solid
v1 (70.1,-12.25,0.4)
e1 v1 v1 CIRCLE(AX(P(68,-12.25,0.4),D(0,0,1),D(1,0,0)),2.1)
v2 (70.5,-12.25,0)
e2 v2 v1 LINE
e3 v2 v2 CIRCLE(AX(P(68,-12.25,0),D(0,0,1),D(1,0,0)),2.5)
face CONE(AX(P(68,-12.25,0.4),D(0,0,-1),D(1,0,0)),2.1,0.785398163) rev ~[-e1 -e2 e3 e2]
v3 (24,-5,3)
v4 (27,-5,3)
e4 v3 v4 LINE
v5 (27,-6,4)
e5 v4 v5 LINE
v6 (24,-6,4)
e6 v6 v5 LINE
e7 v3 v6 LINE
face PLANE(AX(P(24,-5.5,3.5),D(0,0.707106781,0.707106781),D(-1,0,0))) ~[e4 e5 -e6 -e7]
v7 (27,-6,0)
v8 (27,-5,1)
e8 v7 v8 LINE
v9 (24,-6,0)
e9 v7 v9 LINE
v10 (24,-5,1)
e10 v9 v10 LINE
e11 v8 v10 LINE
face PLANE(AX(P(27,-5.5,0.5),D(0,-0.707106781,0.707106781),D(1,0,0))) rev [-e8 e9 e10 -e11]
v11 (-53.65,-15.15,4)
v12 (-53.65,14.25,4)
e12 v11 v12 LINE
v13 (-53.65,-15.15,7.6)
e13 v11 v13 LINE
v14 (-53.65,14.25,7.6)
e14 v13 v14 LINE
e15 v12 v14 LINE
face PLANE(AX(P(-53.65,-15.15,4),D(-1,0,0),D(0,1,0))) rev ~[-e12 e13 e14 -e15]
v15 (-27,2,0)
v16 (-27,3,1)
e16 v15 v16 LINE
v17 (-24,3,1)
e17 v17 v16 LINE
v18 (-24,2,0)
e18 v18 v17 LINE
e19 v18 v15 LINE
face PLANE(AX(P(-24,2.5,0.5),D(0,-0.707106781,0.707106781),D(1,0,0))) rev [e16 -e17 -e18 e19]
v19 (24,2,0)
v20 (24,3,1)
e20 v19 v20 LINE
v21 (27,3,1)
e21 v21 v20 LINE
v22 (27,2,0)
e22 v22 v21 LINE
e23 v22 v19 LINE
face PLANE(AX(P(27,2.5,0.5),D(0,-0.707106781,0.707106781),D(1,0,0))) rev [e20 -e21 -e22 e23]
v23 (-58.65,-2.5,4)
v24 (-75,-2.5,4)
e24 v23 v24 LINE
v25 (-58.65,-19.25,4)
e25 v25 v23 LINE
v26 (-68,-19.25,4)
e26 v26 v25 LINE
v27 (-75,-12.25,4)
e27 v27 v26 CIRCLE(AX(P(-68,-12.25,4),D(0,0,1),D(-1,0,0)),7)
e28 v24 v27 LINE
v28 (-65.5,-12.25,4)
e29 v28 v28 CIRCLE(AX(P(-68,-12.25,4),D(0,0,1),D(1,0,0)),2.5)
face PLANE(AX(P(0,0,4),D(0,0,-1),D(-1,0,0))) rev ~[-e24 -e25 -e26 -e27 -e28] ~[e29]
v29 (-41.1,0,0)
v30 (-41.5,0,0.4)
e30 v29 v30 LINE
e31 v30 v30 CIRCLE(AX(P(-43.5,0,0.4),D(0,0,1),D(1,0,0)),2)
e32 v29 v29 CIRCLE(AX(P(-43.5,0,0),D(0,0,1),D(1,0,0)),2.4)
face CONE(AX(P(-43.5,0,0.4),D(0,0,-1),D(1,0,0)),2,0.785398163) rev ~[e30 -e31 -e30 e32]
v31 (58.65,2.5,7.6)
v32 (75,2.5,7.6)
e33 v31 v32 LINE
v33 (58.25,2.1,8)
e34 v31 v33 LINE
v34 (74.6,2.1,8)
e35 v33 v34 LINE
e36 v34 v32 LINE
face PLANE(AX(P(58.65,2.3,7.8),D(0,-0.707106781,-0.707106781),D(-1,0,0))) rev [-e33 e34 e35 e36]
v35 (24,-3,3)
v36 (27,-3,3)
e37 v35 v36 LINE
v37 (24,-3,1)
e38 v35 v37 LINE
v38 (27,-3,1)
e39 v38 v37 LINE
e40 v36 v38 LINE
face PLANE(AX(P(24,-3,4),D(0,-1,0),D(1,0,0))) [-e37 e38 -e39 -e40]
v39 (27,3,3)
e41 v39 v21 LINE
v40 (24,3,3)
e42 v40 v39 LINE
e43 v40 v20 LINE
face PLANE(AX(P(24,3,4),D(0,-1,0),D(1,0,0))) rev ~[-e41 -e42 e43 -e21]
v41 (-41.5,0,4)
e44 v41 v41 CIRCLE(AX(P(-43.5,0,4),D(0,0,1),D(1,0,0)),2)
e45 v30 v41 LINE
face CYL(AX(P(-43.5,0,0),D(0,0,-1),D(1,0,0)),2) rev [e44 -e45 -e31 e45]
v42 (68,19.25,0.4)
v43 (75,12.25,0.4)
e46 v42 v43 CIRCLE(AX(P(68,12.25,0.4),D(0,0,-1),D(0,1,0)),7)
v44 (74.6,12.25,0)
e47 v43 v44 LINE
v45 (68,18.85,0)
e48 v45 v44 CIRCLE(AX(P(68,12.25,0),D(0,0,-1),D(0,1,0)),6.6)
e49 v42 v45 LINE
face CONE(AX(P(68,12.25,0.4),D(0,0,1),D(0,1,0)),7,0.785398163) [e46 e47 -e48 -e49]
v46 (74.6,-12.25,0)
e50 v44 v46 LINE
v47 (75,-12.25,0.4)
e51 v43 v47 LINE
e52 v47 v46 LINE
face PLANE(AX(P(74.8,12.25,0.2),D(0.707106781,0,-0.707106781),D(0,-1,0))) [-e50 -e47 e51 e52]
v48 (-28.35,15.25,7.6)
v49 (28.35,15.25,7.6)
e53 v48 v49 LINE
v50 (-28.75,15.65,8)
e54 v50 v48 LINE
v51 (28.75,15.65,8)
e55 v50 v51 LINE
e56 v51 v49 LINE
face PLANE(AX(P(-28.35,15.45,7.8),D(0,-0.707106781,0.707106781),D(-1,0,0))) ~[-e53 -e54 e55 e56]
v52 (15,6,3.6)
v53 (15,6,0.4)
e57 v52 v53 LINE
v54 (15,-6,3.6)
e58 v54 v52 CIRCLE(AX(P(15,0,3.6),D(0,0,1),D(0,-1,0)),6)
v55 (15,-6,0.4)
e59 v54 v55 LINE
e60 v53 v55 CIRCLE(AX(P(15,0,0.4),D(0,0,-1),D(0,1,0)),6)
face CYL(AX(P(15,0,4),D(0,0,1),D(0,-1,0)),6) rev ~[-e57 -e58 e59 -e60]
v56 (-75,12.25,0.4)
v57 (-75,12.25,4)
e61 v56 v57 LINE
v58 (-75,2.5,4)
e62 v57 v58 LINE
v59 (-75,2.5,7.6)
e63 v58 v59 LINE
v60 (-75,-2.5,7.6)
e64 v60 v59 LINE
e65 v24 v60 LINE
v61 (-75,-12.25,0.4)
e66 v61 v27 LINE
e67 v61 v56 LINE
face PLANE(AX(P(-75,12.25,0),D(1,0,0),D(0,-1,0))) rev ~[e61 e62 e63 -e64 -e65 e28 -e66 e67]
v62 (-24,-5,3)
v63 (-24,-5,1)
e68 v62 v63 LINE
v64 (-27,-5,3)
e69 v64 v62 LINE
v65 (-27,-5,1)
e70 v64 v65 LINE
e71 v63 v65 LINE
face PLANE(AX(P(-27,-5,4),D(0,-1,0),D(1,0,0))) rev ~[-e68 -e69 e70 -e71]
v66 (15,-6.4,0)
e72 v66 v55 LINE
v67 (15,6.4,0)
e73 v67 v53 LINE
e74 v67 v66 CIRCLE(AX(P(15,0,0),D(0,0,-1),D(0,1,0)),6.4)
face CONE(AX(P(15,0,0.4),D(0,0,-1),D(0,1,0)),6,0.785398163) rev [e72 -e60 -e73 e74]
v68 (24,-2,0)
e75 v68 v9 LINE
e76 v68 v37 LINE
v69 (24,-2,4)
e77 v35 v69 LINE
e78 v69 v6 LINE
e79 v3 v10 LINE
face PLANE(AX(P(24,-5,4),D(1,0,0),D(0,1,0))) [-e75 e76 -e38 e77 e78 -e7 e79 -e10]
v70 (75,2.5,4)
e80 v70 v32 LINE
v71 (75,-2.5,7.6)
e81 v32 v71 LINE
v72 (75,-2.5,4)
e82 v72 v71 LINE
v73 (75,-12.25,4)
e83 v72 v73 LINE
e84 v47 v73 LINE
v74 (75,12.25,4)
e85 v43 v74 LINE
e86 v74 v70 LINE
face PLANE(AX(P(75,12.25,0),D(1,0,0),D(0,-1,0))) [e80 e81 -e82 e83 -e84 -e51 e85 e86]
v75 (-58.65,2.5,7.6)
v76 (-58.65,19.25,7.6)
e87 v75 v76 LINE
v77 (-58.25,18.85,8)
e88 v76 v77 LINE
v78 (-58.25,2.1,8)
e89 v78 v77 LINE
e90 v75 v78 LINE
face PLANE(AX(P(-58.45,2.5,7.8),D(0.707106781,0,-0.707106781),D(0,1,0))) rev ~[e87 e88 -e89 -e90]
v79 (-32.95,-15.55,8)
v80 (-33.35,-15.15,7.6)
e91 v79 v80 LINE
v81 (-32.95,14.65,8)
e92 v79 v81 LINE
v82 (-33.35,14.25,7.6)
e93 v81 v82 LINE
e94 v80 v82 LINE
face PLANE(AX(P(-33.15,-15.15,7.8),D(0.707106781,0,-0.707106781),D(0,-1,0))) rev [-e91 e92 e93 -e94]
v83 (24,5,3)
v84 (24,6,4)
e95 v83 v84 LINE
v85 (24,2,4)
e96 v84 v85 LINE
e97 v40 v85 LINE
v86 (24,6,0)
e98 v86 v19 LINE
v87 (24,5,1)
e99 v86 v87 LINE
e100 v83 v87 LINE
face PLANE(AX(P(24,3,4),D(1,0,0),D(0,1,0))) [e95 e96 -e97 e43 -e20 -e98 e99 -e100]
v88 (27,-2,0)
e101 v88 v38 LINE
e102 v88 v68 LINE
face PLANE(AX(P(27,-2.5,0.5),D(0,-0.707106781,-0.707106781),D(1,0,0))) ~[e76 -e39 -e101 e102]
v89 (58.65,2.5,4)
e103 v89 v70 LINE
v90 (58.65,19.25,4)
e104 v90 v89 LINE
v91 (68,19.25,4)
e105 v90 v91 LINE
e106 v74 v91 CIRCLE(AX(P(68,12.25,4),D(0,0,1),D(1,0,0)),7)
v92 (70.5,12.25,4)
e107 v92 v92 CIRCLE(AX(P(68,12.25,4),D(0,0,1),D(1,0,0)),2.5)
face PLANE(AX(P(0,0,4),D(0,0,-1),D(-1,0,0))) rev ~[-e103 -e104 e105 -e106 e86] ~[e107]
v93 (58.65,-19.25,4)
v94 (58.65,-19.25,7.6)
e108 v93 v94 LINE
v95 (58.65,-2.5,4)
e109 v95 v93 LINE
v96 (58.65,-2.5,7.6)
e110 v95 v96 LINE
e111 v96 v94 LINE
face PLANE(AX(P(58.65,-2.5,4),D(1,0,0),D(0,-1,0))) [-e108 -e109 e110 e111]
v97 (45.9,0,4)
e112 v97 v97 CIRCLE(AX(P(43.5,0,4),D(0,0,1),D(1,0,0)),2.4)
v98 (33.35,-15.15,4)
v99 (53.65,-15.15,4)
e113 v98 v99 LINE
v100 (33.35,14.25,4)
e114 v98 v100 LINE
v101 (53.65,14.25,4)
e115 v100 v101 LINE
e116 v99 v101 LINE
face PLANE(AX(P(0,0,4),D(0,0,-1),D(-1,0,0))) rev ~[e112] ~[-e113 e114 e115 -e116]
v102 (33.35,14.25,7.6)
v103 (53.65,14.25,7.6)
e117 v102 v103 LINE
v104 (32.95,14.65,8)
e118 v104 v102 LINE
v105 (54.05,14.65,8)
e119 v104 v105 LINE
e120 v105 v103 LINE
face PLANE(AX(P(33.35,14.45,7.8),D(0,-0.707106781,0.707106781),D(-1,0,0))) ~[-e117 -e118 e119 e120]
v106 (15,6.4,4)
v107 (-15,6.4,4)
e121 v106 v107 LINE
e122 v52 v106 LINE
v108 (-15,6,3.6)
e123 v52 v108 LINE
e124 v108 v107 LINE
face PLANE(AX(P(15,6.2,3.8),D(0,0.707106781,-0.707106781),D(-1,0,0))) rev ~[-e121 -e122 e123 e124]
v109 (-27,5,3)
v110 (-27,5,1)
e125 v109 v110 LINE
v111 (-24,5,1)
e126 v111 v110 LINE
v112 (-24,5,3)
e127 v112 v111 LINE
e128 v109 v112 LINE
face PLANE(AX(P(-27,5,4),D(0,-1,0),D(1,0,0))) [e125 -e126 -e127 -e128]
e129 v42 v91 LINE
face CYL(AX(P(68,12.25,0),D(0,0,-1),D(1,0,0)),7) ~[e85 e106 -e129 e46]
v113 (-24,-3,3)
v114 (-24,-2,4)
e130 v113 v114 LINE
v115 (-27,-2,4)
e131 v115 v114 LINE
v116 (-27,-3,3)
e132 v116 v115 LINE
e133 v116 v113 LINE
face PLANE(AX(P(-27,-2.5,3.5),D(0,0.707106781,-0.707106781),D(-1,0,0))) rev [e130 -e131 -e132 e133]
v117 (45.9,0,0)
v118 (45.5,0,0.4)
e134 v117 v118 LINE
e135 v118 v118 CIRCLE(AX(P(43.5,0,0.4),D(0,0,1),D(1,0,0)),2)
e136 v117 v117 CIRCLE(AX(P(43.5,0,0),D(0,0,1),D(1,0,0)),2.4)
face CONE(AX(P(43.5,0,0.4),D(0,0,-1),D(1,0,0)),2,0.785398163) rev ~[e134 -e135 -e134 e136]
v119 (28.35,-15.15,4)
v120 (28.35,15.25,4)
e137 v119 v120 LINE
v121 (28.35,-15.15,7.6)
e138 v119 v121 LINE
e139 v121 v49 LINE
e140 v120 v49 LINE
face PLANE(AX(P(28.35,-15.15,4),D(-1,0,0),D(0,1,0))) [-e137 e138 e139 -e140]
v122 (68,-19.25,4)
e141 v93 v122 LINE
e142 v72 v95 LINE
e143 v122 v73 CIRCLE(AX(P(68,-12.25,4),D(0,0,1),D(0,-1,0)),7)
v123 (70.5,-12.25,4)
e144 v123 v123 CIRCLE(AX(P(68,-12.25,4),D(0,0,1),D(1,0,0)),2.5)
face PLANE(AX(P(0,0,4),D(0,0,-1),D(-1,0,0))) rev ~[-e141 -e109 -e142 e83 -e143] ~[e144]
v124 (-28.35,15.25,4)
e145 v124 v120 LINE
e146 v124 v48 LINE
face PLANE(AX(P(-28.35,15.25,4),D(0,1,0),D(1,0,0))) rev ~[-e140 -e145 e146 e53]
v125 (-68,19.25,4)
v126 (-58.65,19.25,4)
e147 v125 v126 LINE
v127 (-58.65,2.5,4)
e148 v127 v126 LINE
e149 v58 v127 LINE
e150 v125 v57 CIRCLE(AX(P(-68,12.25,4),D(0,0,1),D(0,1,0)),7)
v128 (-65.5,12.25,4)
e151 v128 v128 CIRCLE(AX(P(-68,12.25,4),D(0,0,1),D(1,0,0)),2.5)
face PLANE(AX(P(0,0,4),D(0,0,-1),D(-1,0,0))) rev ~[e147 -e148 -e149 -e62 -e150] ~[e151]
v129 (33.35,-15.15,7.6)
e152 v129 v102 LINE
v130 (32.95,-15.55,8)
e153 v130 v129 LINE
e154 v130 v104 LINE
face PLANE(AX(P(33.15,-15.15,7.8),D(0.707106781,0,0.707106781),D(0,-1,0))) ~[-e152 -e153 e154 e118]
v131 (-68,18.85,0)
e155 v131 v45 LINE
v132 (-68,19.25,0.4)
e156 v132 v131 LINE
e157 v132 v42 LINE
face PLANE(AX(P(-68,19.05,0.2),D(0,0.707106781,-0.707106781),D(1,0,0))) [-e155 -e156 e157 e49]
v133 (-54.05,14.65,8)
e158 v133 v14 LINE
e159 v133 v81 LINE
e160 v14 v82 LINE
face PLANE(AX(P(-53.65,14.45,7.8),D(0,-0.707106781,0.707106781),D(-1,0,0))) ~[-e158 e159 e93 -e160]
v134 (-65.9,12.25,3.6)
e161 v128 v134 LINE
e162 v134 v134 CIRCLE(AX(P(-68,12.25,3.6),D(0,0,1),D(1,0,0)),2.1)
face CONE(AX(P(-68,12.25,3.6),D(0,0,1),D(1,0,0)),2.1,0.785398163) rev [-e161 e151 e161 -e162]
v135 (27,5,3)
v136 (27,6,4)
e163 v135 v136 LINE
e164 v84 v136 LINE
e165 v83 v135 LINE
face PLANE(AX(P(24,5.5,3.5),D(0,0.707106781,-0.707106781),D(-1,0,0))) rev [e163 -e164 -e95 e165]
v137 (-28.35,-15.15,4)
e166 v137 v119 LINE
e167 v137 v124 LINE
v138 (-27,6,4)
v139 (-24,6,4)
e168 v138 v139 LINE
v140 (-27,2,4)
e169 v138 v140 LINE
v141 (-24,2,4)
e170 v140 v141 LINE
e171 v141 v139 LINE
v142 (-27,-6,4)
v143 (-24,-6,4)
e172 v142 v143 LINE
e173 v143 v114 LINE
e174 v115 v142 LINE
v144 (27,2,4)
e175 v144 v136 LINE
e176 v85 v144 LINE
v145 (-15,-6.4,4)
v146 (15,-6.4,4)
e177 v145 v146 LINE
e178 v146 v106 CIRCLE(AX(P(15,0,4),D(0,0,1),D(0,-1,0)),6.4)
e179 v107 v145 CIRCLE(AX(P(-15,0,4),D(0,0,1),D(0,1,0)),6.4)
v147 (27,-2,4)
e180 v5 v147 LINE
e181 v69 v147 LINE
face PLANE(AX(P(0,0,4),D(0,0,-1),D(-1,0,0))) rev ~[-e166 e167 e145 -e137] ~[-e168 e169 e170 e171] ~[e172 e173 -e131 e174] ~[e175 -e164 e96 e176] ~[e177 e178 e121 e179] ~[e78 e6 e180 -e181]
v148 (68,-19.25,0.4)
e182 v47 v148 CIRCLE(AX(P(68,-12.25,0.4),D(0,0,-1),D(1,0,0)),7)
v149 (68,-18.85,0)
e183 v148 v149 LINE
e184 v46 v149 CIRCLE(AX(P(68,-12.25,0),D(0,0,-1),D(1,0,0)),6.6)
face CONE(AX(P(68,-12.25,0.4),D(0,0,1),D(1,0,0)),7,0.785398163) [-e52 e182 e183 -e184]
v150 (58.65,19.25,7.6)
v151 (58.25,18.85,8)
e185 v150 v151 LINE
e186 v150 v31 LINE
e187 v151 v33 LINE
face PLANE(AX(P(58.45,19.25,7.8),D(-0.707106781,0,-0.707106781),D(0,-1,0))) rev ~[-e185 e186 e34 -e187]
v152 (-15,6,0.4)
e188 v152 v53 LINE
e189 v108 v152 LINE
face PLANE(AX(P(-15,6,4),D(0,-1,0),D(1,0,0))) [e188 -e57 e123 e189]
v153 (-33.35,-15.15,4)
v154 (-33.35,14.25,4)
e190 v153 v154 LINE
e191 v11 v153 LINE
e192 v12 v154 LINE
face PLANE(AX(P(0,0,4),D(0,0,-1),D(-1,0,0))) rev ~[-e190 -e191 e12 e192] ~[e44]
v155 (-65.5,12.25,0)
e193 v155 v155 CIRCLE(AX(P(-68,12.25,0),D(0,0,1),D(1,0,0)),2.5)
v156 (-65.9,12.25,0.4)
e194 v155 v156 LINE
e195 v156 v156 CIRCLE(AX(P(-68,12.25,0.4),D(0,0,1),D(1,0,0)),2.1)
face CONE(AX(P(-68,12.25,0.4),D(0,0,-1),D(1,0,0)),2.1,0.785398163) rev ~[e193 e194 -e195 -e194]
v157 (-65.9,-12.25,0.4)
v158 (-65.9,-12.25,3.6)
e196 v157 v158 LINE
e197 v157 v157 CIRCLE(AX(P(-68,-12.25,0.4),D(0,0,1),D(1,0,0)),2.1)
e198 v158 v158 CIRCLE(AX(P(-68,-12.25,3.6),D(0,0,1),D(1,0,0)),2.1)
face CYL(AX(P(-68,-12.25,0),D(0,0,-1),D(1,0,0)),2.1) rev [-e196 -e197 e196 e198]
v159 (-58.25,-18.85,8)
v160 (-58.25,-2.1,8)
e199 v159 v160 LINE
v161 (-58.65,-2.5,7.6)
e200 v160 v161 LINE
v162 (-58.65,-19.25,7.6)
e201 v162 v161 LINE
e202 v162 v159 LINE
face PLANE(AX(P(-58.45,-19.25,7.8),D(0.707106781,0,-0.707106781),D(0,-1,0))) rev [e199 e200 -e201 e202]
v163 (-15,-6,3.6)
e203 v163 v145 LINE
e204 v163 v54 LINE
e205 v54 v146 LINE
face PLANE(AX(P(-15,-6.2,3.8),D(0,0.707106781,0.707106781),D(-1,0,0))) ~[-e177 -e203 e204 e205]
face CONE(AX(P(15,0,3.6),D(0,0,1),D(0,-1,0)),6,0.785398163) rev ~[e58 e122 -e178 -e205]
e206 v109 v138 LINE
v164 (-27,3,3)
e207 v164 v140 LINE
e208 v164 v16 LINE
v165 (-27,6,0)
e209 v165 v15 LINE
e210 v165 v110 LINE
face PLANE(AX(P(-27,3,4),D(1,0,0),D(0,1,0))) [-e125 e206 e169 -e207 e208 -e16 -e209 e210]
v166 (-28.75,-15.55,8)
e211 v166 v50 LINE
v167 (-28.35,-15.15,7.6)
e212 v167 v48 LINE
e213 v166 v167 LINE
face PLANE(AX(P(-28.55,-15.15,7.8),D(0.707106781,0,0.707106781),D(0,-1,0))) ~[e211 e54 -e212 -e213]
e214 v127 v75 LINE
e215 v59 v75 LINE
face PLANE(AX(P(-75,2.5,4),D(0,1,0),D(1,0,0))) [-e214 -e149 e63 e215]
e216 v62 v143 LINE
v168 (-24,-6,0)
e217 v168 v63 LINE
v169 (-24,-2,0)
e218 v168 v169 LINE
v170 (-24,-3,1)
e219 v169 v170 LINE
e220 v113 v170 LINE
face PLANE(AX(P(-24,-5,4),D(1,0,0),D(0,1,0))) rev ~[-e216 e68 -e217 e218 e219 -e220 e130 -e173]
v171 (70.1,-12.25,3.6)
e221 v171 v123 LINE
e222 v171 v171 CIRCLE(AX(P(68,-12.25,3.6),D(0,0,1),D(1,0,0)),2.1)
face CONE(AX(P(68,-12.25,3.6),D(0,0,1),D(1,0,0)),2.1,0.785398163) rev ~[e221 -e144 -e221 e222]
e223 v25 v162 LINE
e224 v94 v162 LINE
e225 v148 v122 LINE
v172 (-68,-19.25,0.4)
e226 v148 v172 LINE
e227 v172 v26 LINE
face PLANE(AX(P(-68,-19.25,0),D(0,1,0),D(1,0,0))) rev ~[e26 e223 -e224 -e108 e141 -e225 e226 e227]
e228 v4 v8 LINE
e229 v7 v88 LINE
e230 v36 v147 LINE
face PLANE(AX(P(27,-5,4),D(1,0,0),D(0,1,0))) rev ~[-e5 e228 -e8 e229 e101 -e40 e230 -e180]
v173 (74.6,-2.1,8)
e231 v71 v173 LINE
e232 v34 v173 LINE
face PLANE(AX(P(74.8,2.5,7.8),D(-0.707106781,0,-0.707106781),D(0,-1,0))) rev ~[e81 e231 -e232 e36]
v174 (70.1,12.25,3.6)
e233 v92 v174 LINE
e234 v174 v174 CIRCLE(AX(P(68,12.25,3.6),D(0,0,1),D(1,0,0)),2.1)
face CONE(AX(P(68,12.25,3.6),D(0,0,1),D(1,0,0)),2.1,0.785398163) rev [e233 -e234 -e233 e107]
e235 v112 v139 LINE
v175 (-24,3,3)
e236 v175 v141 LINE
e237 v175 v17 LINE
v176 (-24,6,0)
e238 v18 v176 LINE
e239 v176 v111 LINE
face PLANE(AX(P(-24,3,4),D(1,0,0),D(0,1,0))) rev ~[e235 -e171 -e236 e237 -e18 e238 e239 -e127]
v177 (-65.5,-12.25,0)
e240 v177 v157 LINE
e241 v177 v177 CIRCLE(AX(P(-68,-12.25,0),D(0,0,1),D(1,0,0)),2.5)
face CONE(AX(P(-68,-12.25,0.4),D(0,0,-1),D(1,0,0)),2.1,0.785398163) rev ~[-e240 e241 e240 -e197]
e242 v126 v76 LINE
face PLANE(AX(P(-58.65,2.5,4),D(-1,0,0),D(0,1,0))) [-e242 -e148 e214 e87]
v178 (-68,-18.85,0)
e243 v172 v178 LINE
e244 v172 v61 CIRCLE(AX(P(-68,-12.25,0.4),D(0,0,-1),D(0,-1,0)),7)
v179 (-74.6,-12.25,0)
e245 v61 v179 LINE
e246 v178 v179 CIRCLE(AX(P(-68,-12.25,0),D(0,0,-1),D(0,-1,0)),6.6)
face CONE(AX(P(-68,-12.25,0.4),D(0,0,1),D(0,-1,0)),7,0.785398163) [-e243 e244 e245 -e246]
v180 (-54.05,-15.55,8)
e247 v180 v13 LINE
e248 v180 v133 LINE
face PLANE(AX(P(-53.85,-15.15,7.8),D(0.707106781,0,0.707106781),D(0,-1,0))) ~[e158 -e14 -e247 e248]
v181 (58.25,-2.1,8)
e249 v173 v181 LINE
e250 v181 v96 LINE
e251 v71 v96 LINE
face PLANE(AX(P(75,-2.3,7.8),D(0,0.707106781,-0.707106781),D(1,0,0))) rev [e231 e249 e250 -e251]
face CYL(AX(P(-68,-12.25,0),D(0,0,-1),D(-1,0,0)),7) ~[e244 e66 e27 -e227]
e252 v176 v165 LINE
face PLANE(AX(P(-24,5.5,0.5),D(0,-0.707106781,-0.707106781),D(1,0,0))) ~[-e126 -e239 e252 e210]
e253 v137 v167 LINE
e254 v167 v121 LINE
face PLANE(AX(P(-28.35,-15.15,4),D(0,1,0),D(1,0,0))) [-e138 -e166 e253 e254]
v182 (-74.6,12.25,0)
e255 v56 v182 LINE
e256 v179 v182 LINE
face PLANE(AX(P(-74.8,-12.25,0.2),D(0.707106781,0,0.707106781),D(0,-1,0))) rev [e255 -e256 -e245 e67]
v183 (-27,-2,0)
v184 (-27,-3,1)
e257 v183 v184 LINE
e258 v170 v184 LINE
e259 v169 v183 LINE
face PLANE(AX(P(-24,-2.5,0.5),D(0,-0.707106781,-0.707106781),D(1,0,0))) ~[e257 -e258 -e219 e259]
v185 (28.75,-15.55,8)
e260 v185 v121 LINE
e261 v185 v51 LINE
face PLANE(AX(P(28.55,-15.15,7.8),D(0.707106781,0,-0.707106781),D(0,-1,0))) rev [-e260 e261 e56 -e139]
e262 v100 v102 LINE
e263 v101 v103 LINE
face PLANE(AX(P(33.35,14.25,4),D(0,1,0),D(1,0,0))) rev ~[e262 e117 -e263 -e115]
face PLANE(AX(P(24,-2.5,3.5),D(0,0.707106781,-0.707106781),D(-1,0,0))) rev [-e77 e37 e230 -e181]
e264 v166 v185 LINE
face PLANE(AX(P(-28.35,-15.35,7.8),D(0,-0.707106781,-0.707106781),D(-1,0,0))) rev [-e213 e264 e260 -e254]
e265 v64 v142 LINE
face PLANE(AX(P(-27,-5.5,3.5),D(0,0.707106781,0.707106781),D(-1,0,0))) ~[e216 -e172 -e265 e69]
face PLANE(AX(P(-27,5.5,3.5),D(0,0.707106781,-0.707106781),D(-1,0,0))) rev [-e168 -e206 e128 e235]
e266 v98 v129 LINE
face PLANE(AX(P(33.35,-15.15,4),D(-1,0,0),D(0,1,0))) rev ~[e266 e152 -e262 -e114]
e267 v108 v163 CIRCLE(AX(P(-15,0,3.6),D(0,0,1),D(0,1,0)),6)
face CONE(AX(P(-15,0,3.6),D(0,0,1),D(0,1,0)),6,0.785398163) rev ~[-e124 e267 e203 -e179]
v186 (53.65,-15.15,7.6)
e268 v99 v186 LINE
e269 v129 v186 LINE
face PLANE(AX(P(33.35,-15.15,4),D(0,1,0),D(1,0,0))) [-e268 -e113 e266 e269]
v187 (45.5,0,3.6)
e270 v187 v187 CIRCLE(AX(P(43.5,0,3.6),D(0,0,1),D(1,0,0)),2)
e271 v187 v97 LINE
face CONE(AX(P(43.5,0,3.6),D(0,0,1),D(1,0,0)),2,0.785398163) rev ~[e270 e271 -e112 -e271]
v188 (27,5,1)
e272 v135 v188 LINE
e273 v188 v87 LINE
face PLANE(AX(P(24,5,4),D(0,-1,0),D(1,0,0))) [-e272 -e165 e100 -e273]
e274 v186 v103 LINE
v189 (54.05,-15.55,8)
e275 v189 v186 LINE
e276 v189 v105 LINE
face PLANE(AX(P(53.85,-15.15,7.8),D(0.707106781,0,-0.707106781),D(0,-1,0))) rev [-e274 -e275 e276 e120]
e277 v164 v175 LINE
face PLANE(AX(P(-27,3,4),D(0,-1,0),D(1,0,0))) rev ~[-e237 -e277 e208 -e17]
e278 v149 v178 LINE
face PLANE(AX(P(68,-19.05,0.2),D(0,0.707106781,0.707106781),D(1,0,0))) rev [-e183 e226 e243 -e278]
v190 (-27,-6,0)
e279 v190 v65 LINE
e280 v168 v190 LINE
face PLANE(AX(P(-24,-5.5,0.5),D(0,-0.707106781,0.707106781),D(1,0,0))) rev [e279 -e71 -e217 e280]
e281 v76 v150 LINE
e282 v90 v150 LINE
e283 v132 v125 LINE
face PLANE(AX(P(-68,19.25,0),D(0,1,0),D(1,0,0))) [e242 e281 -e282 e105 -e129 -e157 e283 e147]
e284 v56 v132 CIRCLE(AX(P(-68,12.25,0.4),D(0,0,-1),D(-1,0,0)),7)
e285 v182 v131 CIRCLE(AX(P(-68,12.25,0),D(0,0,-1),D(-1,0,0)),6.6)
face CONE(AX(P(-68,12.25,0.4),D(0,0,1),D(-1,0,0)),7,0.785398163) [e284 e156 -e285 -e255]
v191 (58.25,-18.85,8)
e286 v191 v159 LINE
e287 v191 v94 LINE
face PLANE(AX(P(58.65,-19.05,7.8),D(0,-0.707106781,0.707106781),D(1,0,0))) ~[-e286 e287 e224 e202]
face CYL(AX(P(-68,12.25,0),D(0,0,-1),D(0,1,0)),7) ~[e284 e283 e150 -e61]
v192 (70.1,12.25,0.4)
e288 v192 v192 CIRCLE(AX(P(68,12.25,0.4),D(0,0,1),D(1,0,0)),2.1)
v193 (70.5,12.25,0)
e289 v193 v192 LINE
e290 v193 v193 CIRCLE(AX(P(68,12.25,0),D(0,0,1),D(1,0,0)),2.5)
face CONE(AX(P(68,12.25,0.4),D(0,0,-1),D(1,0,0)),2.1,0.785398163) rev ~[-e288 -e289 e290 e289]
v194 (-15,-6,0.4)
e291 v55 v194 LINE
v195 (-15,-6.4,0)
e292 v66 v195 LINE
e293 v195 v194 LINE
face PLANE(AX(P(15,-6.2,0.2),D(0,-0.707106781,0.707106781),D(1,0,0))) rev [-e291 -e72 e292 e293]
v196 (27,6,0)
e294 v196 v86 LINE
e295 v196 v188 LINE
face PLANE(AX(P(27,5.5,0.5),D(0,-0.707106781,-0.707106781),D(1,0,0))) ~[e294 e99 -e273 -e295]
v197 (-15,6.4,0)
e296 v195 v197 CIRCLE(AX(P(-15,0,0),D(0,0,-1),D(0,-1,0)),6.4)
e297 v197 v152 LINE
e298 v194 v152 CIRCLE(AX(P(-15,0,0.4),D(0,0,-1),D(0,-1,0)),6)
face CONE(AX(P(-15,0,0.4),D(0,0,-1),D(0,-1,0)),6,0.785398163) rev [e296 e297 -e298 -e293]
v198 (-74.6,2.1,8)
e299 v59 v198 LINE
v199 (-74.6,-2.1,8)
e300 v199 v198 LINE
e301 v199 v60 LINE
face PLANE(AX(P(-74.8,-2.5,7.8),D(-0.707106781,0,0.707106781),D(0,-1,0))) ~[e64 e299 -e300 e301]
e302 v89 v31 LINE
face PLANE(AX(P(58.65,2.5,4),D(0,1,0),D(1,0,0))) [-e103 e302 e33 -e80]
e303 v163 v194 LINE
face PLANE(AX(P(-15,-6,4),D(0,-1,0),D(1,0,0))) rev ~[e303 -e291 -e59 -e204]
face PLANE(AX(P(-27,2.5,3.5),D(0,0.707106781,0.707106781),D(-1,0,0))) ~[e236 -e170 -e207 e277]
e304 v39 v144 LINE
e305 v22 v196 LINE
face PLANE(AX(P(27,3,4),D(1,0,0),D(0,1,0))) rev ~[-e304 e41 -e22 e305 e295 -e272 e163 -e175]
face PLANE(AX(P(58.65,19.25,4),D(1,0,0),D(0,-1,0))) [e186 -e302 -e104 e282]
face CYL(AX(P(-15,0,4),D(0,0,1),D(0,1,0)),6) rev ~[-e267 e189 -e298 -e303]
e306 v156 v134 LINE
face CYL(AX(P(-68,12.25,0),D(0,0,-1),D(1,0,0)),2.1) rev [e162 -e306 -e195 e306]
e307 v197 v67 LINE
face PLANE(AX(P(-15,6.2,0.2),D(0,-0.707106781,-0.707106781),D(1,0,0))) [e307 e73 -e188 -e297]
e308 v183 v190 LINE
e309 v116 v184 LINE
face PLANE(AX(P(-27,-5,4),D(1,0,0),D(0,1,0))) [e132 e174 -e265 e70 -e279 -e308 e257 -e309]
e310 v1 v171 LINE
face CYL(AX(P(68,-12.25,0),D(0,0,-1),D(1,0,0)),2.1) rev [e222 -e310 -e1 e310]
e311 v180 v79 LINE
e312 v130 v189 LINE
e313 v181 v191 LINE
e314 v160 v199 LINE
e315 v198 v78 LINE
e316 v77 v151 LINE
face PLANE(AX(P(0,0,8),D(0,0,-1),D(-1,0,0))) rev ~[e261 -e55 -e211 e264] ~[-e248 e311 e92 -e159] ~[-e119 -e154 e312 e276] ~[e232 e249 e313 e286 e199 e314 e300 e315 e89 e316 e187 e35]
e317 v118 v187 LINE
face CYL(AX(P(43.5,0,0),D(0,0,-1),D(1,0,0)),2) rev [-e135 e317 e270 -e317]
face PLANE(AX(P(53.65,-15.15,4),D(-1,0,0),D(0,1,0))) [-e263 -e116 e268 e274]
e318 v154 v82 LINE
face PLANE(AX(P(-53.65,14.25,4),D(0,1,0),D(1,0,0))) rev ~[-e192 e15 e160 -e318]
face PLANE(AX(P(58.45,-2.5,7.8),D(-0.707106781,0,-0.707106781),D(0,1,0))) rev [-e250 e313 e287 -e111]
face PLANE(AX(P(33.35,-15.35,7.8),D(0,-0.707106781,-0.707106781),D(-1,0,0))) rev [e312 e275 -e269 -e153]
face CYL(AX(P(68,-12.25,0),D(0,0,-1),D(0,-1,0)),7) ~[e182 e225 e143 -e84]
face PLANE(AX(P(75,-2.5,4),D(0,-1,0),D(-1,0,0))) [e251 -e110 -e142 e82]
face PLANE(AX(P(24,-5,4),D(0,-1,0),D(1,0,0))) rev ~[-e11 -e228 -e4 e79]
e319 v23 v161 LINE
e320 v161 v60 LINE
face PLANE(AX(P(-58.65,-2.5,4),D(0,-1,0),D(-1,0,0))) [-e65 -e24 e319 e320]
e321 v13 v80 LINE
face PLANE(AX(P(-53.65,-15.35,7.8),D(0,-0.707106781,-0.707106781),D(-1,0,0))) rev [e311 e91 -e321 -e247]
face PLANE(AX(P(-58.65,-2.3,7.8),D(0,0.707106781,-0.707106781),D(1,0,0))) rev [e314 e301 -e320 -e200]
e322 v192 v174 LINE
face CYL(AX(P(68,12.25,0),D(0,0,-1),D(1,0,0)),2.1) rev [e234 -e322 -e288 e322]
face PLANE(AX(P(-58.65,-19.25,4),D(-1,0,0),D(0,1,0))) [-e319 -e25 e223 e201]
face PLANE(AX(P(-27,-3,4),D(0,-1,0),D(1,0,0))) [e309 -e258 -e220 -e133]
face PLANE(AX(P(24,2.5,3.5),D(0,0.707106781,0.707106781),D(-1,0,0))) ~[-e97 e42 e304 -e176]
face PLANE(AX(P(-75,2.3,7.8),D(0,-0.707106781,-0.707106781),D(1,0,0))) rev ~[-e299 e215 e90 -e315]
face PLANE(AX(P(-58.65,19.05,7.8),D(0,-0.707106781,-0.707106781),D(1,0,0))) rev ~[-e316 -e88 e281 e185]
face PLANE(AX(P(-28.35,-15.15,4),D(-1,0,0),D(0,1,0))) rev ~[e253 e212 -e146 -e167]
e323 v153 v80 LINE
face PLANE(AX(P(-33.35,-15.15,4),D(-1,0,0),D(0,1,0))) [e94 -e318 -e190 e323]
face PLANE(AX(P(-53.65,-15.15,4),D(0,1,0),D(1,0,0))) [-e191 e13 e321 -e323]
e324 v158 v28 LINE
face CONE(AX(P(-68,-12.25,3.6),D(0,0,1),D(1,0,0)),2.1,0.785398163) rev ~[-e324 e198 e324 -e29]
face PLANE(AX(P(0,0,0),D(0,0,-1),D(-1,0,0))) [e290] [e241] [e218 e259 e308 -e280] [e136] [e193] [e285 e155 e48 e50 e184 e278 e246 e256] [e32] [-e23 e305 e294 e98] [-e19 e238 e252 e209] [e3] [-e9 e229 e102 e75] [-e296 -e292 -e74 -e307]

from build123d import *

# Parameters (mm, degrees)
SKETCH009_R        = 2.1
SKETCH009_R_2      = 2
PAD003_DEPTH       = 4
SKETCH010_W        = 20.3
SKETCH010_H        = 29.4
SKETCH010_W_2      = 56.7
SKETCH010_H_2      = 30.4
PAD004_DEPTH       = 4
CHAMFER003_SIZE    = 0.4
SKETCH028_W        = 3
SKETCH028_H        = 2
SKETCH028_W_2      = 3.0000000001
SKETCH028_W_3      = 3.0000000002
SKETCH028_W_4      = 3.0000000003
POCKET014_DEPTH    = 4.001
CHAMFER007003_SIZE = 0.4
CHAMFER007004_SIZE = 1


with BuildPart() as part:
    # Sketch009 → Pad003 (new body)
    with BuildSketch(Plane.XY):
        with BuildLine():
            Line((-68, 19.25), (68, 19.25))
            ThreePointArc((75, 12.25), (72.9497474683, 17.1997474683), (68, 19.25))
            Line((75, 12.25), (75, -12.25))
            ThreePointArc((68, -19.25), (72.9497474683, -17.1997474683), (75, -12.25))
            Line((-68, -19.25), (68, -19.25))
            ThreePointArc((-75, -12.25), (-72.9497474683, -17.1997474683), (-68, -19.25))
            Line((-75, 12.25), (-75, -12.25))
            ThreePointArc((-68, 19.25), (-72.9497474683, 17.1997474683), (-75, 12.25))
        make_face()
        with Locations((-68, 12.25)):
            Circle(SKETCH009_R, mode=Mode.SUBTRACT)
        with Locations((-68, -12.25)):
            Circle(SKETCH009_R, mode=Mode.SUBTRACT)
        with Locations((68, 12.25)):
            Circle(SKETCH009_R, mode=Mode.SUBTRACT)
        with Locations((68, -12.25)):
            Circle(SKETCH009_R, mode=Mode.SUBTRACT)
        with Locations((-43.5, 0)):
            Circle(SKETCH009_R_2, mode=Mode.SUBTRACT)
        with Locations((43.5, 0)):
            Circle(SKETCH009_R_2, mode=Mode.SUBTRACT)
        with BuildLine():
            ThreePointArc((-5, 5), (-10, 0), (-5, -5))
            Line((-5, -5), (5, -5))
            ThreePointArc((5, -5), (10, 0), (5, 5))
            Line((-5, 5), (5, 5))
        make_face(mode=Mode.SUBTRACT)
    extrude(amount=PAD003_DEPTH)

    # Sketch010 (on Face20 of Pad003) → Pad004 (join)
    with BuildSketch(Plane.XY.offset(4)):
        Polygon((-58.65, 19.25), (58.65, 19.25), (58.65, 2.5), (75, 2.5), (75, -2.5), (58.65, -2.5), (58.65, -19.25), (-58.65, -19.25), (-58.65, -2.5), (-75, -2.5), (-75, 2.5), (-58.65, 2.5), align=None)
        with Locations((-43.5, -0.45)):
            Rectangle(SKETCH010_W, SKETCH010_H, mode=Mode.SUBTRACT)
        with Locations((43.5, -0.45)):
            Rectangle(SKETCH010_W, SKETCH010_H, mode=Mode.SUBTRACT)
        with Locations((0, 0.05)):
            Rectangle(SKETCH010_W_2, SKETCH010_H_2, mode=Mode.SUBTRACT)
    extrude(amount=PAD004_DEPTH)

    # Chamfer003
    chamfer003_edges = [part.edges().sort_by_distance(p)[0] for p in [
        (0, 19.25, 0),
        (72.949747, 17.199747, 0),
        (75, 0, 0),
        (72.949747, -17.199747, 0),
        (0, -19.25, 0),
        (-72.949747, -17.199747, 0),
        (-75, 0, 0),
        (-72.949747, 17.199747, 0),
        (-10, 0, 0),
        (0, -5, 0),
        (10, 0, 0),
        (0, 5, 0),
        (65.9, -12.25, 0),
        (65.9, 12.25, 0),
        (-70.1, -12.25, 0),
        (-70.1, 12.25, 0),
        (41.5, 0, 0),
        (-45.5, 0, 0),
        (-58.65, 10.875, 8),
        (0, 19.25, 8),
        (58.65, 10.875, 8),
        (66.825, 2.5, 8),
        (75, 0, 8),
        (66.825, -2.5, 8),
        (58.65, -10.875, 8),
        (0, -19.25, 8),
        (-58.65, -10.875, 8),
        (-66.825, -2.5, 8),
        (-75, 0, 8),
        (-66.825, 2.5, 8),
        (-28.35, 0.05, 8),
        (0, -15.15, 8),
        (28.35, 0.05, 8),
        (0, 15.25, 8),
        (33.35, -0.45, 8),
        (43.5, -15.15, 8),
        (53.65, -0.45, 8),
        (43.5, 14.25, 8),
        (-53.65, -0.45, 8),
        (-43.5, -15.15, 8),
        (-33.35, -0.45, 8),
        (-43.5, 14.25, 8),
        (-70.1, -12.25, 4),
        (-10, 0, 4),
        (0, 5, 4),
        (10, 0, 4),
        (0, -5, 4),
        (41.5, 0, 4),
        (65.9, -12.25, 4),
        (65.9, 12.25, 4),
        (-70.1, 12.25, 4),
    ]]
    chamfer(chamfer003_edges, length=CHAMFER003_SIZE)

    # Sketch028 (on Face97 of Chamfer003) → Pocket014 (cut, through all)
    with BuildSketch(Plane.XY.offset(4)):
        with BuildLine():
            ThreePointArc((-15, 6), (-21, 0), (-15, -6))
            Line((-15, -6), (15, -6))
            ThreePointArc((15, -6), (21, 0), (15, 6))
            Line((-15, 6), (15, 6))
        make_face()
        with Locations((-25.5, 4)):
            Rectangle(SKETCH028_W, SKETCH028_H)
        with Locations((-25.5, -4)):
            Rectangle(SKETCH028_W_2, SKETCH028_H)
        with Locations((25.5000000001, 4)):
            Rectangle(SKETCH028_W_3, SKETCH028_H)
        with Locations((25.5000000001, -4)):
            Rectangle(SKETCH028_W_4, SKETCH028_H)
    extrude(amount=-POCKET014_DEPTH, mode=Mode.SUBTRACT)

    # Chamfer007003
    chamfer007003_edges = [part.edges().sort_by_distance(p)[0] for p in [
        (0, -6, 4),
        (0, -6, 0),
    ]]
    chamfer(chamfer007003_edges, length=CHAMFER007003_SIZE)

    # Chamfer007004
    chamfer007004_edges = [part.edges().sort_by_distance(p)[0] for p in [
        (25.5, -5, 4),
        (25.5, -3, 4),
        (25.5, 3, 4),
        (25.5, 5, 4),
        (-25.5, -5, 4),
        (-25.5, -3, 4),
        (-25.5, 3, 4),
        (-25.5, 5, 4),
        (25.5, -5, 0),
        (25.5, -3, 0),
        (25.5, 3, 0),
        (25.5, 5, 0),
        (-25.5, -5, 0),
        (-25.5, -3, 0),
        (-25.5, 3, 0),
        (-25.5, 5, 0),
    ]]
    chamfer(chamfer007004_edges, length=CHAMFER007004_SIZE)


solid = part.part
